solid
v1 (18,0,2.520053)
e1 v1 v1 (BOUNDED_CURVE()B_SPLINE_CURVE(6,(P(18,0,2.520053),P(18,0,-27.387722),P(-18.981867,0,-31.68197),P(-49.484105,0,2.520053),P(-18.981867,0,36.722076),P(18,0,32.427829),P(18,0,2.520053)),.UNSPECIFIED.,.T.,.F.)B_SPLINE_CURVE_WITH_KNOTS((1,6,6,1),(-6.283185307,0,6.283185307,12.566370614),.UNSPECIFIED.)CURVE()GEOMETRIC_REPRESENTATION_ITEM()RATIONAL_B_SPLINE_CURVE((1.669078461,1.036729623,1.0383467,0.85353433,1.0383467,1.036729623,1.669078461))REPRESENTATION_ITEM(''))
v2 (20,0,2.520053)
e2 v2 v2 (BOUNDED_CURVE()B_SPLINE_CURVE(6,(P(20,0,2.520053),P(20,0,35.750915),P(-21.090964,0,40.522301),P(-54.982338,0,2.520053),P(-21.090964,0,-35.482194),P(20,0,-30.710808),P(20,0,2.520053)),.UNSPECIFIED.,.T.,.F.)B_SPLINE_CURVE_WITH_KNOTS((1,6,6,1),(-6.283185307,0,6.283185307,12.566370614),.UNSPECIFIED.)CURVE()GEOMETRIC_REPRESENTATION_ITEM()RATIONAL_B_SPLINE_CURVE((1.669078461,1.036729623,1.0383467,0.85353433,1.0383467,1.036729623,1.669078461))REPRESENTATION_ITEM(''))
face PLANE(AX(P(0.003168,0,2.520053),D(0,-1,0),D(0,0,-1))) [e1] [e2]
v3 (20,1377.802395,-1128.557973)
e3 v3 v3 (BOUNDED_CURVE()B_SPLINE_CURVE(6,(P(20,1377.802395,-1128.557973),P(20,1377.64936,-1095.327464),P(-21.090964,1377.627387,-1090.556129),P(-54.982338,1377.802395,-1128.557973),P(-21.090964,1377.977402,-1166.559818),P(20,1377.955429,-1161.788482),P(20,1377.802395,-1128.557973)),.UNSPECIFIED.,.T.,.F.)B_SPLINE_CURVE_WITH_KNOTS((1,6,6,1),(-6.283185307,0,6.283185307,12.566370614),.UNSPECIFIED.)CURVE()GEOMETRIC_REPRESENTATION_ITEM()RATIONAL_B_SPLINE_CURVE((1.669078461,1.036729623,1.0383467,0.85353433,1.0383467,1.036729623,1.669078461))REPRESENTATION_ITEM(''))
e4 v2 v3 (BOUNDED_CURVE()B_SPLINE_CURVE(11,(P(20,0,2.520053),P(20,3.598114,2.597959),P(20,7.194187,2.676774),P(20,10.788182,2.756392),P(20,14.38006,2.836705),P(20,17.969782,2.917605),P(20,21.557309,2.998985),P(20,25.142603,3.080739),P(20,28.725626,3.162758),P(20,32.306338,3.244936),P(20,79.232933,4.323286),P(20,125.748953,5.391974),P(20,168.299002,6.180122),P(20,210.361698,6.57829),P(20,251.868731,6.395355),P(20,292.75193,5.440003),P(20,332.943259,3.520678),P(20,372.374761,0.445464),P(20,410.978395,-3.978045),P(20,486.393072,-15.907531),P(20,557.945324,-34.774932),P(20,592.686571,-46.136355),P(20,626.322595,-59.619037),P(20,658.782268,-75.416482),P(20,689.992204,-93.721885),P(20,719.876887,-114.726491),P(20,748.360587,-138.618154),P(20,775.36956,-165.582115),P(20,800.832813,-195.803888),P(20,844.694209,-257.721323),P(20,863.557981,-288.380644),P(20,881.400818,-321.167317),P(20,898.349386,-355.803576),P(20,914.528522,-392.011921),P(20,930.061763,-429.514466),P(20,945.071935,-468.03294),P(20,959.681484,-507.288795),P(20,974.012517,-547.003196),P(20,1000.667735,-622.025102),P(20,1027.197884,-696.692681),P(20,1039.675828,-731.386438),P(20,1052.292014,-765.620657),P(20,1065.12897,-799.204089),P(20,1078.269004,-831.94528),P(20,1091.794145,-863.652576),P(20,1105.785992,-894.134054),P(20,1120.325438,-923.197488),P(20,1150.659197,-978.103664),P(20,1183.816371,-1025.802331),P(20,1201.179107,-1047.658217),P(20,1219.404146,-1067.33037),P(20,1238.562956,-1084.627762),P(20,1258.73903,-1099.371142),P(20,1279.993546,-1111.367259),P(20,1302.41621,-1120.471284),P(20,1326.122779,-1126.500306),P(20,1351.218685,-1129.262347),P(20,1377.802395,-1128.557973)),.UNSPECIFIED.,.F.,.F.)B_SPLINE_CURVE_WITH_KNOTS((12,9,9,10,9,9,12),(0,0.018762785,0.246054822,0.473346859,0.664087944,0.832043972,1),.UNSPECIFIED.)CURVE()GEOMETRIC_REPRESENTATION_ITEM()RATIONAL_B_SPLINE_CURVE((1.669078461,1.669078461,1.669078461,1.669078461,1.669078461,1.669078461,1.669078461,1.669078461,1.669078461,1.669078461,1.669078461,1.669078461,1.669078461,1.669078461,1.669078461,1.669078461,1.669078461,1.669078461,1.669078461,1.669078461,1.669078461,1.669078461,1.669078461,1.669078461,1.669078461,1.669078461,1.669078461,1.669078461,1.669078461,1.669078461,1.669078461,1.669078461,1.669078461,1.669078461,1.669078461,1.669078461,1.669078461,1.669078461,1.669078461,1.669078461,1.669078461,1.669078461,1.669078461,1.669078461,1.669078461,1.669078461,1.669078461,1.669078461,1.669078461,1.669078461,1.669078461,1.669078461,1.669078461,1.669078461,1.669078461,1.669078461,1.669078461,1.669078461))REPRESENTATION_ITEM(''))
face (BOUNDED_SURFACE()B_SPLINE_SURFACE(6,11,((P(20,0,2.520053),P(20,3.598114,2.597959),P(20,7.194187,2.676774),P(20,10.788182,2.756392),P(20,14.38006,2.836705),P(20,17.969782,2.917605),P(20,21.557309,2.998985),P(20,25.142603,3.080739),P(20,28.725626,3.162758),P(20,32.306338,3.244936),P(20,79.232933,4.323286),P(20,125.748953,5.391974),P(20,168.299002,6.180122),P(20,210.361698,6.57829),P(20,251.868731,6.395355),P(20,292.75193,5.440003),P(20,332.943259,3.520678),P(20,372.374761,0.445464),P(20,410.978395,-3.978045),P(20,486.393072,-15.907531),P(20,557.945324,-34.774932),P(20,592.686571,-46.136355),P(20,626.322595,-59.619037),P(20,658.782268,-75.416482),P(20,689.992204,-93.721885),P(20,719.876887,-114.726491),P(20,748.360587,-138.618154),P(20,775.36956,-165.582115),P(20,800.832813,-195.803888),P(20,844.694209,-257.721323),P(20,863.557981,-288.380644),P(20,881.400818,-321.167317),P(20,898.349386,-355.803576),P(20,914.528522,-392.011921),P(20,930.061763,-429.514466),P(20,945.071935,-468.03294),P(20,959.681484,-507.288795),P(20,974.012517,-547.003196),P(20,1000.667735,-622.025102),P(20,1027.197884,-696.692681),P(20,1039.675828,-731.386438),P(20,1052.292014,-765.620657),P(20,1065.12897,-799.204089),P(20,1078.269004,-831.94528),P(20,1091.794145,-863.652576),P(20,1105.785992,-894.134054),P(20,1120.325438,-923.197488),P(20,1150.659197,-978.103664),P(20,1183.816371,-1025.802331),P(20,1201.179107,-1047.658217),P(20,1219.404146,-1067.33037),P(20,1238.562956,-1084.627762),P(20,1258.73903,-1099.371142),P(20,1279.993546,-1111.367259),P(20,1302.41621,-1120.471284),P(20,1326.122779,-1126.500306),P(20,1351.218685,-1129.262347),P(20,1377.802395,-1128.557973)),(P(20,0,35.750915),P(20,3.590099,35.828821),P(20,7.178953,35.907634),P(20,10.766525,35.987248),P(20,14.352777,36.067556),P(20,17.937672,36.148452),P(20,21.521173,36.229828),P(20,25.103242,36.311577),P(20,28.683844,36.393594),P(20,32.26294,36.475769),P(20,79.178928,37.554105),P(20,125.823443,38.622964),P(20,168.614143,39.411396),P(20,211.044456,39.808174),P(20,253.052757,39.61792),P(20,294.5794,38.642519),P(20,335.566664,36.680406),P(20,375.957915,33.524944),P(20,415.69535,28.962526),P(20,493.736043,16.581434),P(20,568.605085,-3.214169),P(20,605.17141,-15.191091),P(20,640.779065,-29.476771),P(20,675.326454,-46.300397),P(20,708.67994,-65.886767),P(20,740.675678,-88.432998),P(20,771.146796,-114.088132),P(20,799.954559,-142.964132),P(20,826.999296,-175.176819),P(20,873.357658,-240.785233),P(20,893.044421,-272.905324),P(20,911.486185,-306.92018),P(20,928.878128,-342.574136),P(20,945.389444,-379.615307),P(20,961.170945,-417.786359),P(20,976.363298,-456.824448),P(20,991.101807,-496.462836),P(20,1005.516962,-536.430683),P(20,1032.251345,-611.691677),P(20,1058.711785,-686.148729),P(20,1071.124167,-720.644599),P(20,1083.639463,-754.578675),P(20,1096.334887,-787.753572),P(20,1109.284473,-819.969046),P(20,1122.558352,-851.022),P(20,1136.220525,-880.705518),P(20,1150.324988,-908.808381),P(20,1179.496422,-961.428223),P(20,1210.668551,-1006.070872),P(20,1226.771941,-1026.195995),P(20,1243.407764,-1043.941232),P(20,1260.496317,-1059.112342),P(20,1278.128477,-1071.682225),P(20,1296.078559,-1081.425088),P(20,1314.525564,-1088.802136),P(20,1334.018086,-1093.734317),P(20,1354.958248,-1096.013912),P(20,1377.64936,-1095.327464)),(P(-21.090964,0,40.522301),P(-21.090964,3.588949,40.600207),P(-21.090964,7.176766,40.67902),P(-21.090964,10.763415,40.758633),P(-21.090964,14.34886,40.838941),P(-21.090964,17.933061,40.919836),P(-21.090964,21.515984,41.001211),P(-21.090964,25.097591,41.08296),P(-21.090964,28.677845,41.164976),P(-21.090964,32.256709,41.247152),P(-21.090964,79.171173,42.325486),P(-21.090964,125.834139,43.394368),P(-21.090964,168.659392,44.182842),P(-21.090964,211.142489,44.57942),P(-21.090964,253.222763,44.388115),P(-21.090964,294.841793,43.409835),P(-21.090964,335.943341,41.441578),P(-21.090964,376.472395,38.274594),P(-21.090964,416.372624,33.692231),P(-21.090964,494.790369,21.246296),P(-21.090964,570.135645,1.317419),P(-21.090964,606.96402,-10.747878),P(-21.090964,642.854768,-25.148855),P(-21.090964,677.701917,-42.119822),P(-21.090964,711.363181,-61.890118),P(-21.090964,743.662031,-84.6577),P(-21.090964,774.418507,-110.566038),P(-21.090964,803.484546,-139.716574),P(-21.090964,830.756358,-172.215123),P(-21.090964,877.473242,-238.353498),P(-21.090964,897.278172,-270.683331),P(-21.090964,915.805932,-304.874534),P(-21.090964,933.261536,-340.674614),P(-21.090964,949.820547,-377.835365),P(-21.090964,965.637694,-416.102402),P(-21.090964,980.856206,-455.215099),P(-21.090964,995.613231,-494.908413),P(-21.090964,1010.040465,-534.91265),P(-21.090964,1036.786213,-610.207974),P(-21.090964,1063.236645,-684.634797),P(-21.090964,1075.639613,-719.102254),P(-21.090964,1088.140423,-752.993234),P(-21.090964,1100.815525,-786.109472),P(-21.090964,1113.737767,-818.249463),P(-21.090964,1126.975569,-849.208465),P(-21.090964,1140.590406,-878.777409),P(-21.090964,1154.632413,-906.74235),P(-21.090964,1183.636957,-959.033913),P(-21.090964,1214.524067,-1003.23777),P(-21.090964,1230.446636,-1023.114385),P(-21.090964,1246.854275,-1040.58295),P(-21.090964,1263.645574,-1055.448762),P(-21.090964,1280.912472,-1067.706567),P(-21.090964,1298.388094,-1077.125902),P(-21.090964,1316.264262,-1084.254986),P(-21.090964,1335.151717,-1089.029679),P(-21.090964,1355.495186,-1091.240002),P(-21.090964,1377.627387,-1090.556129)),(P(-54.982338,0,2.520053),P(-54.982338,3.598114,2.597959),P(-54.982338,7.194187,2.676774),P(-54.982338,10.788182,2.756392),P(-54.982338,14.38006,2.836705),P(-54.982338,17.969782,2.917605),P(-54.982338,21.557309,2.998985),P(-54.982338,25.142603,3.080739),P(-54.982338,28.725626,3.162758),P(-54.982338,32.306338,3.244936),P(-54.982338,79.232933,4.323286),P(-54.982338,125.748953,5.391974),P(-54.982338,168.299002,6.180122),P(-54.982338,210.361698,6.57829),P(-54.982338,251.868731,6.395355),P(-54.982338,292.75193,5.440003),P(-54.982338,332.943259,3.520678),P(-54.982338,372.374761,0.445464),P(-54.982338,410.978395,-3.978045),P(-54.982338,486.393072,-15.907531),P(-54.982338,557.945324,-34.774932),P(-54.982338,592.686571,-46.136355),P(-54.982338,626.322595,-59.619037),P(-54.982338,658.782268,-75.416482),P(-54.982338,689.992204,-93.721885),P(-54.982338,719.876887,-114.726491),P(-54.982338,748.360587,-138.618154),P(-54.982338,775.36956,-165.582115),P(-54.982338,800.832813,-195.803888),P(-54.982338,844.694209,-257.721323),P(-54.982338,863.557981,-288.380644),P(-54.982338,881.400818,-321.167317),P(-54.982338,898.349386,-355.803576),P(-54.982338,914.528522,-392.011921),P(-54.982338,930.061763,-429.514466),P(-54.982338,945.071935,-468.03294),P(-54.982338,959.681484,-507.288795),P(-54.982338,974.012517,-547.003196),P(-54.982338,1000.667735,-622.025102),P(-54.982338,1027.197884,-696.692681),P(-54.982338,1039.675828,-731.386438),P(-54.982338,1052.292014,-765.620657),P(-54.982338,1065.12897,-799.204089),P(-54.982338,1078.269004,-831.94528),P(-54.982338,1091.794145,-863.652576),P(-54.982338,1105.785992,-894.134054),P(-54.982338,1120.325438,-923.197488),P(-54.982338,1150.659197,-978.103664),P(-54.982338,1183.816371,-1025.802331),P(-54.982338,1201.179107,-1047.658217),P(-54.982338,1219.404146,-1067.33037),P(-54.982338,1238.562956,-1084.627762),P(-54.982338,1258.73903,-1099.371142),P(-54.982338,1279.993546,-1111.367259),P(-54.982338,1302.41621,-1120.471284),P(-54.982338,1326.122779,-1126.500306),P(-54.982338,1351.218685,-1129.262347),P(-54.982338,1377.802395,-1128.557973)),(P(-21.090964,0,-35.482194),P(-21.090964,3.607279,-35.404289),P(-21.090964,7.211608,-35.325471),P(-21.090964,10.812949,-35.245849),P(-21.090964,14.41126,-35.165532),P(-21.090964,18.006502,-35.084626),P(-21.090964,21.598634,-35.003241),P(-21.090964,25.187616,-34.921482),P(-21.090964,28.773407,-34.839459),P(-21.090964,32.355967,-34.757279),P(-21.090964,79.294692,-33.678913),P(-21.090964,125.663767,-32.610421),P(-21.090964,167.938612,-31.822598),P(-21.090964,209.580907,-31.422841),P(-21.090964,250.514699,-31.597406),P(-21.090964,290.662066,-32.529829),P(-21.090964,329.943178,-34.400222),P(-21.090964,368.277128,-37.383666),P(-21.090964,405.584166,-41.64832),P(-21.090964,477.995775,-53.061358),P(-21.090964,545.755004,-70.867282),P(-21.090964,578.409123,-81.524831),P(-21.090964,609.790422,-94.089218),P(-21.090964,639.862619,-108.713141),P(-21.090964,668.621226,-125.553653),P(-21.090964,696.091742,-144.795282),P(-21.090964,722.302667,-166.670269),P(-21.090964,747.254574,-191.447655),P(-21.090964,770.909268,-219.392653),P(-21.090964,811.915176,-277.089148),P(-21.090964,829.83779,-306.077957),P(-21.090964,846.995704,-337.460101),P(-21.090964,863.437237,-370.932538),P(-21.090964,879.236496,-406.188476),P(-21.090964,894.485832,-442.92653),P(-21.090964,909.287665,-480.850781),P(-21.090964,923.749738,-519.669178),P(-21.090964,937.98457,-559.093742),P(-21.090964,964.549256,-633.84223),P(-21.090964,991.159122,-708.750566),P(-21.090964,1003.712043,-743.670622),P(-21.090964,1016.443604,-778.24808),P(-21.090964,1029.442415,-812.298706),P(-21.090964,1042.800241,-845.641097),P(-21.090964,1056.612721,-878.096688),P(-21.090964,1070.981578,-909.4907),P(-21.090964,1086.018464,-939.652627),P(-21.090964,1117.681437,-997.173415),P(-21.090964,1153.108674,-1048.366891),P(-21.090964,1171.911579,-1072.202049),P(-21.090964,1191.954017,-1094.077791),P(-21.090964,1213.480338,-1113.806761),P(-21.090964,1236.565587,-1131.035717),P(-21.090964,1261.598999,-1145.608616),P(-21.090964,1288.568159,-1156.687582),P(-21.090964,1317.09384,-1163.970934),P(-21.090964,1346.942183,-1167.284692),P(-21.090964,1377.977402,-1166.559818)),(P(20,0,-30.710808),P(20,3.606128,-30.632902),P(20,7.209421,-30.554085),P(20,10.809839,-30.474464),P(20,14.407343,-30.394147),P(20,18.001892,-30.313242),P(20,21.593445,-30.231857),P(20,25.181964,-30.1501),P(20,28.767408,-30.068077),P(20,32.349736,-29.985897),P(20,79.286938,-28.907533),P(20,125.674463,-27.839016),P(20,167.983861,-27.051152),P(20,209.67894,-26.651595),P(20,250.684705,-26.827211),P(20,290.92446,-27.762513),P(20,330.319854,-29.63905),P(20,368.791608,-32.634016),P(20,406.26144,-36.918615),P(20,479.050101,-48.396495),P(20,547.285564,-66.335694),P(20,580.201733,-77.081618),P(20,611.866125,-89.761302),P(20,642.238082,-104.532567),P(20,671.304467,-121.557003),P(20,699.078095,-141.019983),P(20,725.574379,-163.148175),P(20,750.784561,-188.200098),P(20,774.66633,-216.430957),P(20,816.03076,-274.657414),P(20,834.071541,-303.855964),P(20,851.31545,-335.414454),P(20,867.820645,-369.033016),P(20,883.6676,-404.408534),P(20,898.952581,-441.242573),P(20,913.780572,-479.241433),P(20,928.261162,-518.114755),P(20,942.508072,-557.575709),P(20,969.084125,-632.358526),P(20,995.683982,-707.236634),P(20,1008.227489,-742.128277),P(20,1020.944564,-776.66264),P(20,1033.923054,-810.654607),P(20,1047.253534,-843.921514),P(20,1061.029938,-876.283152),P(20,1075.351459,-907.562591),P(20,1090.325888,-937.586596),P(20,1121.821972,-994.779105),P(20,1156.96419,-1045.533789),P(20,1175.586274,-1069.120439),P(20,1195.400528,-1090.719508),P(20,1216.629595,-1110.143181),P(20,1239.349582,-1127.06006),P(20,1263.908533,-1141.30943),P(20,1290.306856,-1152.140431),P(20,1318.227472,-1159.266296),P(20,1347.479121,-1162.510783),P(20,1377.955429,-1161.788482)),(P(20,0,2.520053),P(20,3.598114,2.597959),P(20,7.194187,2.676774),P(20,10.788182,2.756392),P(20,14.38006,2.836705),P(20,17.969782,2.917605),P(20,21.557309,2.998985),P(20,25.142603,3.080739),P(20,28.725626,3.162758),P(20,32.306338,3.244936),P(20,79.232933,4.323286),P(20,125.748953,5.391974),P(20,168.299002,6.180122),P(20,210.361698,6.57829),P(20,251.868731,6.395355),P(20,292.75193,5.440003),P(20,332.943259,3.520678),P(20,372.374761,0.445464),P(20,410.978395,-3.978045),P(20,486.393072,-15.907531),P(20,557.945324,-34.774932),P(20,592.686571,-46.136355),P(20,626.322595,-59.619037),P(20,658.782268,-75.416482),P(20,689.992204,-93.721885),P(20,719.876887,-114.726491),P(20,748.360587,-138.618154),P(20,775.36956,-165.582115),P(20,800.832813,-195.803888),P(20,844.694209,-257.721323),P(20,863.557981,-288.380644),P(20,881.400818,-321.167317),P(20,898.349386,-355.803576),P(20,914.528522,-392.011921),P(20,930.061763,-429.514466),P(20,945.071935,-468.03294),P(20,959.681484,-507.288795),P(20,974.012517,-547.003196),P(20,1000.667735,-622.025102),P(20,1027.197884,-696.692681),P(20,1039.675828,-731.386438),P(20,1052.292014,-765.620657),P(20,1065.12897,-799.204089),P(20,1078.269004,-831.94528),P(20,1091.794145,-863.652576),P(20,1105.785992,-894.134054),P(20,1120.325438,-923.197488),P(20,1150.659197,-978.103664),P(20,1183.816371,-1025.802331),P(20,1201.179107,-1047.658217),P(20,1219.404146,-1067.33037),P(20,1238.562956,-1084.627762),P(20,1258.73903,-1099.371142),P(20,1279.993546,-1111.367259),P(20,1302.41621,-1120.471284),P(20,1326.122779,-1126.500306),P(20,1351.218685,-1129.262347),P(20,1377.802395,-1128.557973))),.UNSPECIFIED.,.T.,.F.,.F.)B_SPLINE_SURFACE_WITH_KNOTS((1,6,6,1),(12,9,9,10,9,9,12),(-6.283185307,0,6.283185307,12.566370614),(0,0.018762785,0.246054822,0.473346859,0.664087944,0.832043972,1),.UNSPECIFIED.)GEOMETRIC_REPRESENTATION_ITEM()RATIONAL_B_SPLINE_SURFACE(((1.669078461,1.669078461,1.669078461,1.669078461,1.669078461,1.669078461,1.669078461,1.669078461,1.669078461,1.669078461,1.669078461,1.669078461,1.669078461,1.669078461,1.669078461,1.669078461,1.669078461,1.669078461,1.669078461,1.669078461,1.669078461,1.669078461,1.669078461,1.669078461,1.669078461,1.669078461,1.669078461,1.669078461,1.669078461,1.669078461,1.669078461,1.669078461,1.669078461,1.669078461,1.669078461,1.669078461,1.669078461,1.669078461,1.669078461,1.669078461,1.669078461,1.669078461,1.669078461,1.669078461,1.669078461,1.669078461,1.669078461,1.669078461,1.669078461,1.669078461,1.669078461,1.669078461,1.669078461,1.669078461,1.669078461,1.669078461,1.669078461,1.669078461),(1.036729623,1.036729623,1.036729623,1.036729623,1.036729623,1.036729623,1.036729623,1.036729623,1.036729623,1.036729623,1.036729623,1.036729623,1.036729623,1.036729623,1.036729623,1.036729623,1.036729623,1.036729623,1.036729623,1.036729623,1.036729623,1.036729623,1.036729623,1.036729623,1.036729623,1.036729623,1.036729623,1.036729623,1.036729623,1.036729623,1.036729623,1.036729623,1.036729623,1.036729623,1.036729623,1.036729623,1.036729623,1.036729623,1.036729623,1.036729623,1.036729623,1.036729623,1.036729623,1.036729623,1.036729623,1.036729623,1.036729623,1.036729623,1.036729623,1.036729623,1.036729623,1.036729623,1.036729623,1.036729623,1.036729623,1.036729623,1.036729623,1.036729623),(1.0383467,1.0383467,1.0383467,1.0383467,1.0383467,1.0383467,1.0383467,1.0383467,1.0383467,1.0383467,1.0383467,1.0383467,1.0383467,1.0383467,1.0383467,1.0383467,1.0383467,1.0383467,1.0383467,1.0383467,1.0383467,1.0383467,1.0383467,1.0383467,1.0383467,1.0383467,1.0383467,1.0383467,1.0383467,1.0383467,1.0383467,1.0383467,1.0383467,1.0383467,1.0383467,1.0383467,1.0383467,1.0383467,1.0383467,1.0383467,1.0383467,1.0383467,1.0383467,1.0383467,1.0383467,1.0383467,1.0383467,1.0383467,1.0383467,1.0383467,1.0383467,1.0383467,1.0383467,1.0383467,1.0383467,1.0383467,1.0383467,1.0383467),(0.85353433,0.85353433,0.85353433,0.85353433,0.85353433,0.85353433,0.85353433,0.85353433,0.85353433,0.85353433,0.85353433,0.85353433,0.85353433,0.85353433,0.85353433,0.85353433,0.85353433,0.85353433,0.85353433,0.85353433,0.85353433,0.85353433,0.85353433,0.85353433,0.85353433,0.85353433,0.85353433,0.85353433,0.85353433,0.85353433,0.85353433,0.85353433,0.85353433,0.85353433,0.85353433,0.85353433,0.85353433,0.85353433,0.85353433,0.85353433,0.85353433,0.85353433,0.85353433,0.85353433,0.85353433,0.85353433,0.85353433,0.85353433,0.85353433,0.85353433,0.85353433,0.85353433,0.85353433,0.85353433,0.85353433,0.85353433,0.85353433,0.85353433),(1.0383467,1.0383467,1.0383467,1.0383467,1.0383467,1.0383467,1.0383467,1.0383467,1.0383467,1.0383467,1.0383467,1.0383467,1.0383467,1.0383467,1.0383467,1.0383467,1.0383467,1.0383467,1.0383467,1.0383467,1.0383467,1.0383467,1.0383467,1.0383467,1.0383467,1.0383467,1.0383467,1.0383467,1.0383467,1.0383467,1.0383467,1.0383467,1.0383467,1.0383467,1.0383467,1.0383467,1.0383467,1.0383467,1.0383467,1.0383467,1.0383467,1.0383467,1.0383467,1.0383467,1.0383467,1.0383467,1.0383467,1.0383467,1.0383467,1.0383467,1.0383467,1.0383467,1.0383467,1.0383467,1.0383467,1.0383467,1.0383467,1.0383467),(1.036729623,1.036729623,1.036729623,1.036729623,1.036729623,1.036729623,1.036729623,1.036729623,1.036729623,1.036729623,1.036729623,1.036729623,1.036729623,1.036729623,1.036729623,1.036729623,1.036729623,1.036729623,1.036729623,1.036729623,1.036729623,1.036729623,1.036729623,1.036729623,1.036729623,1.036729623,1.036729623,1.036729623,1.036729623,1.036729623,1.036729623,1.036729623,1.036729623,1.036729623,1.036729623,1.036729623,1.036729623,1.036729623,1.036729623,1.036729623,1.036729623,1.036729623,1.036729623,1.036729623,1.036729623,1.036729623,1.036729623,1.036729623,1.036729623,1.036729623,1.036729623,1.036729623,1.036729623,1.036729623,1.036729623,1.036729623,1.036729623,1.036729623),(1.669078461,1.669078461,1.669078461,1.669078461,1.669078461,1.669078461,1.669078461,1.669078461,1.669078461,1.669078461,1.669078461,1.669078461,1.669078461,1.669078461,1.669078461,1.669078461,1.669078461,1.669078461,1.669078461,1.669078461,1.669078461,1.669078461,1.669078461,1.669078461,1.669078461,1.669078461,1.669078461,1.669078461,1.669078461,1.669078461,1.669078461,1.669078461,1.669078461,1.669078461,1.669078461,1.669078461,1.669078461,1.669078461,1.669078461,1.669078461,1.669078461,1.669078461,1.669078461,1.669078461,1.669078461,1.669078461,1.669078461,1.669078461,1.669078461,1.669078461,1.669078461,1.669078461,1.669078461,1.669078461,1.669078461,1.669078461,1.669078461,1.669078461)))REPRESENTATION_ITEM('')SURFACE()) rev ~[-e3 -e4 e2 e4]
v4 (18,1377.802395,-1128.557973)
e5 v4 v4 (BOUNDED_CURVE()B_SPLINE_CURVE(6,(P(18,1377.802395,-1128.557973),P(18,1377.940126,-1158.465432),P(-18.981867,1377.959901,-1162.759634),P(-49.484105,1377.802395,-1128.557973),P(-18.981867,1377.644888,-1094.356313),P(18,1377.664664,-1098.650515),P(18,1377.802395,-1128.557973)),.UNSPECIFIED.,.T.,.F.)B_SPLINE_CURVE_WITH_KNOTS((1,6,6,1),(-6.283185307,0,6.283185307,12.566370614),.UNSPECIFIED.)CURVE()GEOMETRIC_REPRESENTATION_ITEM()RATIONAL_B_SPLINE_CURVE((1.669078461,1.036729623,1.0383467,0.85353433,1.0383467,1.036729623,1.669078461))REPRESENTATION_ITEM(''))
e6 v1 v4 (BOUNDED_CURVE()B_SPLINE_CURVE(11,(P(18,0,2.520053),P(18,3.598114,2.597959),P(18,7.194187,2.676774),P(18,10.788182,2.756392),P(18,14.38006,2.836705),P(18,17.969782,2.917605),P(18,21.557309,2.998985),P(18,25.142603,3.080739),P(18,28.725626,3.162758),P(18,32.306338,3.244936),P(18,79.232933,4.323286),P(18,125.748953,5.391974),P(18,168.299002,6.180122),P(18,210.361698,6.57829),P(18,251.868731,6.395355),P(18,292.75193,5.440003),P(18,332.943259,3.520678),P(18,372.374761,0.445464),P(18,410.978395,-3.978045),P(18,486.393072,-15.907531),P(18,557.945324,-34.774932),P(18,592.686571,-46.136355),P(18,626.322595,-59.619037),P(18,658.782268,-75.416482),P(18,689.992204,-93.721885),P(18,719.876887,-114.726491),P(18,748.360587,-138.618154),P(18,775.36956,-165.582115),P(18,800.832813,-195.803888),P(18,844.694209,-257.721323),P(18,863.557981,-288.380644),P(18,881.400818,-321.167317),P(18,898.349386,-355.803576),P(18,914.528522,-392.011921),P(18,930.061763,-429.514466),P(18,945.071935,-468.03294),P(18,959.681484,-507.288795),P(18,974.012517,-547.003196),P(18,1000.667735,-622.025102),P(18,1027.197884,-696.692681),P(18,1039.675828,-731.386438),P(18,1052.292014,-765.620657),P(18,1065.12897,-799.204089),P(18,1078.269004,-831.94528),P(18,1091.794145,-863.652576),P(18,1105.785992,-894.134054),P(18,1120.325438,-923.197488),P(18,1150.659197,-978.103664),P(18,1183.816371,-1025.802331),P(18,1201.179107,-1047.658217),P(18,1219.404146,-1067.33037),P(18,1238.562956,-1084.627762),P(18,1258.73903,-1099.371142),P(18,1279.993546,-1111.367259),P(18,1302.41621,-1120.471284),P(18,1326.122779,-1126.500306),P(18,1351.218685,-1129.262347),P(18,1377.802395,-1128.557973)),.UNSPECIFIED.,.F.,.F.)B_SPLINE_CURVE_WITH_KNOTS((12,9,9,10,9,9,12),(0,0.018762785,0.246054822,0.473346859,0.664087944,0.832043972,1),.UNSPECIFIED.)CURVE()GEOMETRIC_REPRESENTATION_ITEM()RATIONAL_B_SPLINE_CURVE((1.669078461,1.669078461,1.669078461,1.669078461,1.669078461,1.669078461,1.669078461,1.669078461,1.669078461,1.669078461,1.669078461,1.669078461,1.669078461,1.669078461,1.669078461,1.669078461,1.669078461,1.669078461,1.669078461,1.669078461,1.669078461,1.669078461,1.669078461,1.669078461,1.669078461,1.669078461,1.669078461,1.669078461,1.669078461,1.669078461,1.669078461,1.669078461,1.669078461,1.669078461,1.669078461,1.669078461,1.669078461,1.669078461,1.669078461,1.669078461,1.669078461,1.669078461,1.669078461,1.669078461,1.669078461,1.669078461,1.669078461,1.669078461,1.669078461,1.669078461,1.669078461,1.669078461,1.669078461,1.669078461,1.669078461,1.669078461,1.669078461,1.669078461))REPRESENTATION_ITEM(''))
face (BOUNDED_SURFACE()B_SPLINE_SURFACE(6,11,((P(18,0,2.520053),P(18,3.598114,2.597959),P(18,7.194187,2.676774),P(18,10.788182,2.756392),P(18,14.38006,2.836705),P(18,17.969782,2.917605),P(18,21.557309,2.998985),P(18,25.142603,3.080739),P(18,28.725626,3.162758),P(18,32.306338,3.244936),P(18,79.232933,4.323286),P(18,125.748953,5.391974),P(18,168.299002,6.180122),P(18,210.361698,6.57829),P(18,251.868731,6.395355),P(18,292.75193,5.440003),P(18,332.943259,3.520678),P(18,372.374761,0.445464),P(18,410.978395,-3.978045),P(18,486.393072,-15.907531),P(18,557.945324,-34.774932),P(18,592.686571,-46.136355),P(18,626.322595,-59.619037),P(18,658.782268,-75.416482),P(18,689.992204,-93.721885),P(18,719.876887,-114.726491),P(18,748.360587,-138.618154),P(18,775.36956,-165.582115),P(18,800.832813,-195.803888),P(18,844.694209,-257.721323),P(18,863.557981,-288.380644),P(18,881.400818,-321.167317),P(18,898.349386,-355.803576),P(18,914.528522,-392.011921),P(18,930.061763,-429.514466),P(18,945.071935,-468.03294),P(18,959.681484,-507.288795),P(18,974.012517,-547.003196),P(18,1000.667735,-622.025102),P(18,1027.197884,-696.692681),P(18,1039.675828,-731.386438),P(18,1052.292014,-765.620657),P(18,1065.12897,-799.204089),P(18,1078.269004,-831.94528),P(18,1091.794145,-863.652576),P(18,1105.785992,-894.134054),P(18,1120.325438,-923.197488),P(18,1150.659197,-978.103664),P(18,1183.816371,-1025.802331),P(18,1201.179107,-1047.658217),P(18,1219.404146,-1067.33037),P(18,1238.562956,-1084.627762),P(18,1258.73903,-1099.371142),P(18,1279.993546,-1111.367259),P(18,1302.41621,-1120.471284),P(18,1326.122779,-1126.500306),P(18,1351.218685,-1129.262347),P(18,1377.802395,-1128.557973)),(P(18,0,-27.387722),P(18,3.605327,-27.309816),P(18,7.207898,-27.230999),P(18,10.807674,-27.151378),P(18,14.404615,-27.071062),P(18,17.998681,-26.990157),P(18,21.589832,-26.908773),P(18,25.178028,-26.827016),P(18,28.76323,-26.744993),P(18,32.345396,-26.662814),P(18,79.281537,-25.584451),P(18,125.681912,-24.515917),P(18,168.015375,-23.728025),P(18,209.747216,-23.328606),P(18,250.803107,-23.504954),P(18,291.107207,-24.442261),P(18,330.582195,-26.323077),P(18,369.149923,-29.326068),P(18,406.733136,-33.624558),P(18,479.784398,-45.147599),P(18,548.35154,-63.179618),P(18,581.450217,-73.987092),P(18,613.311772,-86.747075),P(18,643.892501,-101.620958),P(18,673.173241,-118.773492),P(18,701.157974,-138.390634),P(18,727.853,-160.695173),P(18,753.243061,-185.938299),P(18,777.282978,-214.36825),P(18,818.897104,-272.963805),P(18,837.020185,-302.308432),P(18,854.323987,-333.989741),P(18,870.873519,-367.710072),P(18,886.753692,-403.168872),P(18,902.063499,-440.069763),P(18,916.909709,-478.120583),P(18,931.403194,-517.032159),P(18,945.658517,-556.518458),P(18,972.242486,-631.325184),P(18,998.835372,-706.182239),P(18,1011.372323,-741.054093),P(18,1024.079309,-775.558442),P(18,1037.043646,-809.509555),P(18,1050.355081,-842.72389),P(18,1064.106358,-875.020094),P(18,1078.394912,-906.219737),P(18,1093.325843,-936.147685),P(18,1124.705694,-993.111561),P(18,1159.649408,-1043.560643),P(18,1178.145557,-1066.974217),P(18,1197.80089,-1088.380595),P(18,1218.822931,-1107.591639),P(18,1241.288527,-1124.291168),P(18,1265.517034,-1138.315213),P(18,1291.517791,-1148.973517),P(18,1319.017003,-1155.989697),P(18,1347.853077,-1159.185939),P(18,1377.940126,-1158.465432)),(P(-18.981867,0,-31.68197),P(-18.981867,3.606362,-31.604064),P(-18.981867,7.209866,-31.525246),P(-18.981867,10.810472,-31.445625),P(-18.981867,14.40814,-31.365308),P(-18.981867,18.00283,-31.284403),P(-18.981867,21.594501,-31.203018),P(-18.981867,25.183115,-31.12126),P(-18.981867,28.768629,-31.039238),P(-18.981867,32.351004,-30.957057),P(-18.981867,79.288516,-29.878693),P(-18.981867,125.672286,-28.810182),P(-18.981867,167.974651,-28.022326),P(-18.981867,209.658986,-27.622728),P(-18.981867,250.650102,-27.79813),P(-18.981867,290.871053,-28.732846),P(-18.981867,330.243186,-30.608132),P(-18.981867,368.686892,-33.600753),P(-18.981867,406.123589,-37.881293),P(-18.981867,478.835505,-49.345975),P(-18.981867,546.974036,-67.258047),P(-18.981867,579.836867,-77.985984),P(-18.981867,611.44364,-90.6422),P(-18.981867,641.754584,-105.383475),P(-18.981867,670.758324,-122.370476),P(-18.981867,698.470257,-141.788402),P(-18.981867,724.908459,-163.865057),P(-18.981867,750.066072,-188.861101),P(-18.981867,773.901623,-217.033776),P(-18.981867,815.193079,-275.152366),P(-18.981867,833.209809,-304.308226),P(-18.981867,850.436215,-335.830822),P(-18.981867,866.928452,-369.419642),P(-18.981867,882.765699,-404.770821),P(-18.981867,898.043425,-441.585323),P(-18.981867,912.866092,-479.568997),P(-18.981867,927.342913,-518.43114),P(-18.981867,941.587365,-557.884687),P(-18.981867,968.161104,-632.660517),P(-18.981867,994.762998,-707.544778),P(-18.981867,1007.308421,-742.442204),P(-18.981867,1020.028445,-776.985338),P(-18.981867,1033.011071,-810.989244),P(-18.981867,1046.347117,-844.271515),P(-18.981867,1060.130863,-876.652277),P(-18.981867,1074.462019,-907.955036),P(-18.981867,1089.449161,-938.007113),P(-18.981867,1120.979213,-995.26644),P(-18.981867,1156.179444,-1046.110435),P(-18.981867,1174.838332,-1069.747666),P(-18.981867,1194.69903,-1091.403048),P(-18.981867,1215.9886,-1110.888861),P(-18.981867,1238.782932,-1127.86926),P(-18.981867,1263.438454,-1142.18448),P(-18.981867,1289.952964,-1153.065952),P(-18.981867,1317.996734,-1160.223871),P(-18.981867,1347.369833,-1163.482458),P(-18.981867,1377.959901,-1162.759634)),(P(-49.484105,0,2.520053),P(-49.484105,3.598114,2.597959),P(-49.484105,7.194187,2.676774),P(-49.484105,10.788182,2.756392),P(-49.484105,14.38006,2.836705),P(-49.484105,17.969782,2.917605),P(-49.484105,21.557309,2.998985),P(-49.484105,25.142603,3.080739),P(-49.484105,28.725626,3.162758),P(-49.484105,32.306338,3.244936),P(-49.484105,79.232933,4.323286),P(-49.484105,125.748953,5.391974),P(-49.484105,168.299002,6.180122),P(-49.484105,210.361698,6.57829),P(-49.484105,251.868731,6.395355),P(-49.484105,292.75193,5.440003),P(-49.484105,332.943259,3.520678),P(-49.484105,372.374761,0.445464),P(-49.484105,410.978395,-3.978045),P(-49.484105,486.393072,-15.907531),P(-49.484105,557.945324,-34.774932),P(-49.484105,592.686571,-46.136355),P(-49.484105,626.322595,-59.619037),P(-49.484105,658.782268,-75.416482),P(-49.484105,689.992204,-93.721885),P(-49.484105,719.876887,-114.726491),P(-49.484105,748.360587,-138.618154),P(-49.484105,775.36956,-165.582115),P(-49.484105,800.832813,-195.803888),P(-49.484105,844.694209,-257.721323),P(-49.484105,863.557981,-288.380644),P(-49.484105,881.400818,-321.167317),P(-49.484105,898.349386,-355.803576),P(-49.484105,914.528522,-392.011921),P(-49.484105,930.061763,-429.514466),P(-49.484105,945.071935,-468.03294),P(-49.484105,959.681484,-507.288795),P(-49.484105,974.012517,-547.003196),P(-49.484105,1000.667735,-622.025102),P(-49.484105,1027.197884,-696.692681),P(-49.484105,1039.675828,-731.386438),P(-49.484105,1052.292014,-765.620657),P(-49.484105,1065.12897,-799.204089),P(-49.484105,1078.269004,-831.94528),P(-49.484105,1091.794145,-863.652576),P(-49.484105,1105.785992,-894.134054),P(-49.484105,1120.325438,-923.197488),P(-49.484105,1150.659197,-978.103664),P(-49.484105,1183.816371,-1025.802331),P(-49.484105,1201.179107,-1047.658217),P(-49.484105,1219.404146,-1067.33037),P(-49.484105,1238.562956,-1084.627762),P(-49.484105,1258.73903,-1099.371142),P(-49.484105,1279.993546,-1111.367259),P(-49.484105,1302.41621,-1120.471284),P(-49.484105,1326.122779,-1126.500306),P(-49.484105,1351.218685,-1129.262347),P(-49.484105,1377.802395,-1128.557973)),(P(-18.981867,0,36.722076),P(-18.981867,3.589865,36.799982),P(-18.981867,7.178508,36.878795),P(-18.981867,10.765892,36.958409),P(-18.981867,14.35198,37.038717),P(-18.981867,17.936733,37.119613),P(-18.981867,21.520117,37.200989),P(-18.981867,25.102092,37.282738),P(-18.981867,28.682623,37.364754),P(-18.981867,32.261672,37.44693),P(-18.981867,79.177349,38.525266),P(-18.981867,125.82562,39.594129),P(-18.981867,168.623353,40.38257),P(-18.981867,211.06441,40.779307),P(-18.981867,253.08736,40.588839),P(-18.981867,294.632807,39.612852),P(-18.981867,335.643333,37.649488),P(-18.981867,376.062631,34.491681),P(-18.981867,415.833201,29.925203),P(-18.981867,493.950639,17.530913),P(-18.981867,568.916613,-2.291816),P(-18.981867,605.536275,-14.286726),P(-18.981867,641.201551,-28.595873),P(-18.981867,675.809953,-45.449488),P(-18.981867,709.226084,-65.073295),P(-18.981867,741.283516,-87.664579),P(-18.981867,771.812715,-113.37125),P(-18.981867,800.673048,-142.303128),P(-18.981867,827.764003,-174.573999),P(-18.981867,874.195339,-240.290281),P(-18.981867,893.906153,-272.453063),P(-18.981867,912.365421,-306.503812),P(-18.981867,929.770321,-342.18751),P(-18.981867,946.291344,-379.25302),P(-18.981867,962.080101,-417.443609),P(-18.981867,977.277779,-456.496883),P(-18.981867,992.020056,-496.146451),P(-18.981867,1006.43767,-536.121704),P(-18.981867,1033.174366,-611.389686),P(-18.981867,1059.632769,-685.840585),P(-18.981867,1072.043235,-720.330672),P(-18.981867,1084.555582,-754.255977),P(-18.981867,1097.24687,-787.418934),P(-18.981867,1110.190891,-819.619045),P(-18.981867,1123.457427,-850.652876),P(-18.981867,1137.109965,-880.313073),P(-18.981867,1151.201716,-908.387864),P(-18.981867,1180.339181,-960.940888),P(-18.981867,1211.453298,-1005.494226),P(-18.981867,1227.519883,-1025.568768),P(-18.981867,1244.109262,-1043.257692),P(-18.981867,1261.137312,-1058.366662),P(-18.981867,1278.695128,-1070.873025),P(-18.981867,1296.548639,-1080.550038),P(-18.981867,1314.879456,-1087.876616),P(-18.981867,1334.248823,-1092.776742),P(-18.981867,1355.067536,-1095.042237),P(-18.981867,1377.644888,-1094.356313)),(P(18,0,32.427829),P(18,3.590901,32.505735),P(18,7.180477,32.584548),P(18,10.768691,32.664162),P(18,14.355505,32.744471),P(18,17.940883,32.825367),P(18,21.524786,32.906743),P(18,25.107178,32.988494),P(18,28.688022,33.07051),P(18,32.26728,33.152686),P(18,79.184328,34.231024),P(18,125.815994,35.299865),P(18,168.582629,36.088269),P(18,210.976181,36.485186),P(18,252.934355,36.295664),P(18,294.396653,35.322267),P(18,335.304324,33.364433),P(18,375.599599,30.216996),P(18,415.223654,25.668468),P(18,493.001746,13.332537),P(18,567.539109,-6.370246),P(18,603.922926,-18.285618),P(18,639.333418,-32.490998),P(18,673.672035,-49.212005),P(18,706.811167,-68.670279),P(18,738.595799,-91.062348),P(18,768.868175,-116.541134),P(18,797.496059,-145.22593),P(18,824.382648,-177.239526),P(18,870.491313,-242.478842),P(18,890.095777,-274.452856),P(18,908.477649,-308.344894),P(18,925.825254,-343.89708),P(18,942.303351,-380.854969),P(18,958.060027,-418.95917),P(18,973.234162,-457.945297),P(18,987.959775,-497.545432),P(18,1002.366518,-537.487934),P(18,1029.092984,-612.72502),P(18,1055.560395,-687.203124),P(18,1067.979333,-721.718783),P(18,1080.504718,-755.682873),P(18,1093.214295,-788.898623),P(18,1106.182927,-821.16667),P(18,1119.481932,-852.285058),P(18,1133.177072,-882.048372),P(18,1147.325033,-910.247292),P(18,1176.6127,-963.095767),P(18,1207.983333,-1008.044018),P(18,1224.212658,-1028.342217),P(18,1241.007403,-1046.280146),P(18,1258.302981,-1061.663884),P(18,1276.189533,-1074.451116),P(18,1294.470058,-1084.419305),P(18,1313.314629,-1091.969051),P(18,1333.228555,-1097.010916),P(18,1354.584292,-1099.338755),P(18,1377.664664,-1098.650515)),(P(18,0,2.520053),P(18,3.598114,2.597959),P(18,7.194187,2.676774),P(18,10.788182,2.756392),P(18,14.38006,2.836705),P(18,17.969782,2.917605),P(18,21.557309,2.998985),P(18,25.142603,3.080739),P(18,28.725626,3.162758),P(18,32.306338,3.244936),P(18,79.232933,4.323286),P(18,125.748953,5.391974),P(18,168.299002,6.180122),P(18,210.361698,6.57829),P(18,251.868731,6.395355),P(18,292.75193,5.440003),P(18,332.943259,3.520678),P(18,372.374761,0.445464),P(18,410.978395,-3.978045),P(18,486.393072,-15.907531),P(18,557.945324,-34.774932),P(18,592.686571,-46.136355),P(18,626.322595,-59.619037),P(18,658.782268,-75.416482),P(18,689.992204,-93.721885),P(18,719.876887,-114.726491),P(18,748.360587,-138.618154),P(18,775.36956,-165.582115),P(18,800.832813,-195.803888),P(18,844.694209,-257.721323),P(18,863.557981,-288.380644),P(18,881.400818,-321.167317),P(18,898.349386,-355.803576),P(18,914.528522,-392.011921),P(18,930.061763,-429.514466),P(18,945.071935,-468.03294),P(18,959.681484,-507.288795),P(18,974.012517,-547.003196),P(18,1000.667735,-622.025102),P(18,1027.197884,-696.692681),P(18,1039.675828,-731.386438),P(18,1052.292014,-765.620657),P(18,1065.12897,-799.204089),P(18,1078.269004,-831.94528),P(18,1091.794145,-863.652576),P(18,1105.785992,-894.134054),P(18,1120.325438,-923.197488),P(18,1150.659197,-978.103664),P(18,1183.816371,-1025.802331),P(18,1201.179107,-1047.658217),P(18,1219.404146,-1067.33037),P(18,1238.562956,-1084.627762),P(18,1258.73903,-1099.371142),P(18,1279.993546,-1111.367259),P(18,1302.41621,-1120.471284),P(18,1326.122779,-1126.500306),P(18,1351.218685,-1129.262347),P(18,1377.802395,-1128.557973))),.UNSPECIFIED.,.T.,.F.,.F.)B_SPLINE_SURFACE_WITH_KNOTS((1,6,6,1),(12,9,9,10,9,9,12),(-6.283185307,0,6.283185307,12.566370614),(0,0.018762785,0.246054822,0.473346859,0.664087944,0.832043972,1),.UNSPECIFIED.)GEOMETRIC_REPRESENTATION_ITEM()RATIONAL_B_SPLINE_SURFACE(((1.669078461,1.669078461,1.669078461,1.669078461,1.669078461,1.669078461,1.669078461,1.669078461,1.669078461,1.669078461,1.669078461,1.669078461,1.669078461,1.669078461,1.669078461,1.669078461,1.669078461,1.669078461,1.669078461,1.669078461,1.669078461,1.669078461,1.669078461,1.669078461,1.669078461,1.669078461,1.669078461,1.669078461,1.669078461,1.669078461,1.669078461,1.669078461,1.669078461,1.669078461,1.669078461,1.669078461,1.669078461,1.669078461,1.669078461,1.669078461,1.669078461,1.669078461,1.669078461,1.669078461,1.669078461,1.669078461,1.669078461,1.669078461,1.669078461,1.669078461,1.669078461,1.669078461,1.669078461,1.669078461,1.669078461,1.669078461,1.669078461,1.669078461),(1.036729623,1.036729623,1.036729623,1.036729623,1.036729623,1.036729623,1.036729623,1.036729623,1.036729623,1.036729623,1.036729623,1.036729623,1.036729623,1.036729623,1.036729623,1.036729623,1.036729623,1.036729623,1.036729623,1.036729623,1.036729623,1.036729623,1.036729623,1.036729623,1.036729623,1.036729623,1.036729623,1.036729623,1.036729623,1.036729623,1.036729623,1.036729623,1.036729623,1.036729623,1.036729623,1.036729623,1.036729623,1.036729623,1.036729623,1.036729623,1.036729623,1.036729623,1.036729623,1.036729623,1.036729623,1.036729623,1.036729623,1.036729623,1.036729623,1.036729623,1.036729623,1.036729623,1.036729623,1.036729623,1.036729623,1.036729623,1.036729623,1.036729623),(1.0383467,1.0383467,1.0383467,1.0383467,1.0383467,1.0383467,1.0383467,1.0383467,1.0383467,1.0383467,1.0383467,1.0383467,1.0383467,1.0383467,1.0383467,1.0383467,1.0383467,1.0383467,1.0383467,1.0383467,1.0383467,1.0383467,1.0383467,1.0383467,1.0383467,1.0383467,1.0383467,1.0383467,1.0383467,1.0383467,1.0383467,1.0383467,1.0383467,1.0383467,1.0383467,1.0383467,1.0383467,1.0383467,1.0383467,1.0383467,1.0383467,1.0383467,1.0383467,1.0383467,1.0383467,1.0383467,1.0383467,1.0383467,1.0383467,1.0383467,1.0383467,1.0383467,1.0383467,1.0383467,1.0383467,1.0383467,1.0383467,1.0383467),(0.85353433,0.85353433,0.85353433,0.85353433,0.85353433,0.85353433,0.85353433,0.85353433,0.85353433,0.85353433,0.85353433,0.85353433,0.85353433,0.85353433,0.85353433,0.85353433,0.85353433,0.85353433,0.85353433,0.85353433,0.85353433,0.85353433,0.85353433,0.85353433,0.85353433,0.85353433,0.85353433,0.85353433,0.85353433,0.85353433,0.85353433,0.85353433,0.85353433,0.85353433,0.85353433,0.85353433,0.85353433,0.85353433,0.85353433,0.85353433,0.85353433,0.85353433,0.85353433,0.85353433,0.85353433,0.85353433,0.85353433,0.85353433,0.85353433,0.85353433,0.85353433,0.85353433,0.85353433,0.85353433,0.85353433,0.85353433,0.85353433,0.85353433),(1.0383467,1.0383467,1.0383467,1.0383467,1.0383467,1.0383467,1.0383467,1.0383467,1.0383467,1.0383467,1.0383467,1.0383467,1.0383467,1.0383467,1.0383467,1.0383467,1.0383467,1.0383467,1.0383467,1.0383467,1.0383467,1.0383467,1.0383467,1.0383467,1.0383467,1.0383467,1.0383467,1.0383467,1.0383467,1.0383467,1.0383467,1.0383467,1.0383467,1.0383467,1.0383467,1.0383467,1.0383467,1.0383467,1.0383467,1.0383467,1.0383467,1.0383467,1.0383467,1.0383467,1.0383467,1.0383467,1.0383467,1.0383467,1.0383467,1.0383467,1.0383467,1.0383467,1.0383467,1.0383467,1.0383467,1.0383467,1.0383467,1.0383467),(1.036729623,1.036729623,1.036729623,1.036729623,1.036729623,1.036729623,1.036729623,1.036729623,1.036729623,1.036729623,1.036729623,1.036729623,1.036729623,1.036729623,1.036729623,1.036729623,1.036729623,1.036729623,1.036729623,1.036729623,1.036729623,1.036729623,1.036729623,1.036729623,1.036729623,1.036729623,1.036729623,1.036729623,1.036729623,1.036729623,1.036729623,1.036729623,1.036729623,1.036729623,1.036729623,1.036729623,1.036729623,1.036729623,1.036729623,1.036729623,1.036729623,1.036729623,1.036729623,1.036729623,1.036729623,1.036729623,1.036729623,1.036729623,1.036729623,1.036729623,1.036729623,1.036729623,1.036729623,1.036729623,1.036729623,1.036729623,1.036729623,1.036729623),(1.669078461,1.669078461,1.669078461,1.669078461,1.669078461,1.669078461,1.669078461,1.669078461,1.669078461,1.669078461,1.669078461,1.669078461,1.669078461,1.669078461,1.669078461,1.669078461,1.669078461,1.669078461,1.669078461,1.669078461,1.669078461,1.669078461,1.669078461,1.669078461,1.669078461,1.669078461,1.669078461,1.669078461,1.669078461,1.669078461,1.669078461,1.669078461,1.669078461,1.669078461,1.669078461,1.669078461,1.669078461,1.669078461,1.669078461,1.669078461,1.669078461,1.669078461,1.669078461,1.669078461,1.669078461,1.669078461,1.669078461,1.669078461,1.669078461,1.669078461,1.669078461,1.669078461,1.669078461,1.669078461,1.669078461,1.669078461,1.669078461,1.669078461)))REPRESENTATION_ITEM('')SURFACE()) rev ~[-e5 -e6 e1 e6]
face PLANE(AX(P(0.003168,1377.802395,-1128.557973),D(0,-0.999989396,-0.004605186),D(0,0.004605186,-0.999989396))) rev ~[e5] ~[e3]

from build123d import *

# Parameters (mm, degrees)
F2_R   = 20
F2_R_2 = 18


with BuildPart() as f3:
    # F3: sweep along a path in F1
    with BuildLine(Plane.YZ) as f3_path:
        add(Plane.YZ * Edge.make_bspline(
            [(0, 0), (332.8908466906, 7.206481744), (984.3871711681, 44.8552168562), (1068.7758651204, -1139.1921159776), (1377.814, -1131.078)],
            knots=[0, 0, 0, 0, 0.4733468587, 1, 1, 1, 1], degree=3))
    # F2 (on Front) → F3 (sweep)
    with BuildSketch(Plane.XZ):
        with Locations((0, 2.5200533755)):
            Circle(F2_R)
        with Locations((0, 2.5200533755)):
            Circle(F2_R_2, mode=Mode.SUBTRACT)
    sweep(path=f3_path.line)


solid = f3.part
